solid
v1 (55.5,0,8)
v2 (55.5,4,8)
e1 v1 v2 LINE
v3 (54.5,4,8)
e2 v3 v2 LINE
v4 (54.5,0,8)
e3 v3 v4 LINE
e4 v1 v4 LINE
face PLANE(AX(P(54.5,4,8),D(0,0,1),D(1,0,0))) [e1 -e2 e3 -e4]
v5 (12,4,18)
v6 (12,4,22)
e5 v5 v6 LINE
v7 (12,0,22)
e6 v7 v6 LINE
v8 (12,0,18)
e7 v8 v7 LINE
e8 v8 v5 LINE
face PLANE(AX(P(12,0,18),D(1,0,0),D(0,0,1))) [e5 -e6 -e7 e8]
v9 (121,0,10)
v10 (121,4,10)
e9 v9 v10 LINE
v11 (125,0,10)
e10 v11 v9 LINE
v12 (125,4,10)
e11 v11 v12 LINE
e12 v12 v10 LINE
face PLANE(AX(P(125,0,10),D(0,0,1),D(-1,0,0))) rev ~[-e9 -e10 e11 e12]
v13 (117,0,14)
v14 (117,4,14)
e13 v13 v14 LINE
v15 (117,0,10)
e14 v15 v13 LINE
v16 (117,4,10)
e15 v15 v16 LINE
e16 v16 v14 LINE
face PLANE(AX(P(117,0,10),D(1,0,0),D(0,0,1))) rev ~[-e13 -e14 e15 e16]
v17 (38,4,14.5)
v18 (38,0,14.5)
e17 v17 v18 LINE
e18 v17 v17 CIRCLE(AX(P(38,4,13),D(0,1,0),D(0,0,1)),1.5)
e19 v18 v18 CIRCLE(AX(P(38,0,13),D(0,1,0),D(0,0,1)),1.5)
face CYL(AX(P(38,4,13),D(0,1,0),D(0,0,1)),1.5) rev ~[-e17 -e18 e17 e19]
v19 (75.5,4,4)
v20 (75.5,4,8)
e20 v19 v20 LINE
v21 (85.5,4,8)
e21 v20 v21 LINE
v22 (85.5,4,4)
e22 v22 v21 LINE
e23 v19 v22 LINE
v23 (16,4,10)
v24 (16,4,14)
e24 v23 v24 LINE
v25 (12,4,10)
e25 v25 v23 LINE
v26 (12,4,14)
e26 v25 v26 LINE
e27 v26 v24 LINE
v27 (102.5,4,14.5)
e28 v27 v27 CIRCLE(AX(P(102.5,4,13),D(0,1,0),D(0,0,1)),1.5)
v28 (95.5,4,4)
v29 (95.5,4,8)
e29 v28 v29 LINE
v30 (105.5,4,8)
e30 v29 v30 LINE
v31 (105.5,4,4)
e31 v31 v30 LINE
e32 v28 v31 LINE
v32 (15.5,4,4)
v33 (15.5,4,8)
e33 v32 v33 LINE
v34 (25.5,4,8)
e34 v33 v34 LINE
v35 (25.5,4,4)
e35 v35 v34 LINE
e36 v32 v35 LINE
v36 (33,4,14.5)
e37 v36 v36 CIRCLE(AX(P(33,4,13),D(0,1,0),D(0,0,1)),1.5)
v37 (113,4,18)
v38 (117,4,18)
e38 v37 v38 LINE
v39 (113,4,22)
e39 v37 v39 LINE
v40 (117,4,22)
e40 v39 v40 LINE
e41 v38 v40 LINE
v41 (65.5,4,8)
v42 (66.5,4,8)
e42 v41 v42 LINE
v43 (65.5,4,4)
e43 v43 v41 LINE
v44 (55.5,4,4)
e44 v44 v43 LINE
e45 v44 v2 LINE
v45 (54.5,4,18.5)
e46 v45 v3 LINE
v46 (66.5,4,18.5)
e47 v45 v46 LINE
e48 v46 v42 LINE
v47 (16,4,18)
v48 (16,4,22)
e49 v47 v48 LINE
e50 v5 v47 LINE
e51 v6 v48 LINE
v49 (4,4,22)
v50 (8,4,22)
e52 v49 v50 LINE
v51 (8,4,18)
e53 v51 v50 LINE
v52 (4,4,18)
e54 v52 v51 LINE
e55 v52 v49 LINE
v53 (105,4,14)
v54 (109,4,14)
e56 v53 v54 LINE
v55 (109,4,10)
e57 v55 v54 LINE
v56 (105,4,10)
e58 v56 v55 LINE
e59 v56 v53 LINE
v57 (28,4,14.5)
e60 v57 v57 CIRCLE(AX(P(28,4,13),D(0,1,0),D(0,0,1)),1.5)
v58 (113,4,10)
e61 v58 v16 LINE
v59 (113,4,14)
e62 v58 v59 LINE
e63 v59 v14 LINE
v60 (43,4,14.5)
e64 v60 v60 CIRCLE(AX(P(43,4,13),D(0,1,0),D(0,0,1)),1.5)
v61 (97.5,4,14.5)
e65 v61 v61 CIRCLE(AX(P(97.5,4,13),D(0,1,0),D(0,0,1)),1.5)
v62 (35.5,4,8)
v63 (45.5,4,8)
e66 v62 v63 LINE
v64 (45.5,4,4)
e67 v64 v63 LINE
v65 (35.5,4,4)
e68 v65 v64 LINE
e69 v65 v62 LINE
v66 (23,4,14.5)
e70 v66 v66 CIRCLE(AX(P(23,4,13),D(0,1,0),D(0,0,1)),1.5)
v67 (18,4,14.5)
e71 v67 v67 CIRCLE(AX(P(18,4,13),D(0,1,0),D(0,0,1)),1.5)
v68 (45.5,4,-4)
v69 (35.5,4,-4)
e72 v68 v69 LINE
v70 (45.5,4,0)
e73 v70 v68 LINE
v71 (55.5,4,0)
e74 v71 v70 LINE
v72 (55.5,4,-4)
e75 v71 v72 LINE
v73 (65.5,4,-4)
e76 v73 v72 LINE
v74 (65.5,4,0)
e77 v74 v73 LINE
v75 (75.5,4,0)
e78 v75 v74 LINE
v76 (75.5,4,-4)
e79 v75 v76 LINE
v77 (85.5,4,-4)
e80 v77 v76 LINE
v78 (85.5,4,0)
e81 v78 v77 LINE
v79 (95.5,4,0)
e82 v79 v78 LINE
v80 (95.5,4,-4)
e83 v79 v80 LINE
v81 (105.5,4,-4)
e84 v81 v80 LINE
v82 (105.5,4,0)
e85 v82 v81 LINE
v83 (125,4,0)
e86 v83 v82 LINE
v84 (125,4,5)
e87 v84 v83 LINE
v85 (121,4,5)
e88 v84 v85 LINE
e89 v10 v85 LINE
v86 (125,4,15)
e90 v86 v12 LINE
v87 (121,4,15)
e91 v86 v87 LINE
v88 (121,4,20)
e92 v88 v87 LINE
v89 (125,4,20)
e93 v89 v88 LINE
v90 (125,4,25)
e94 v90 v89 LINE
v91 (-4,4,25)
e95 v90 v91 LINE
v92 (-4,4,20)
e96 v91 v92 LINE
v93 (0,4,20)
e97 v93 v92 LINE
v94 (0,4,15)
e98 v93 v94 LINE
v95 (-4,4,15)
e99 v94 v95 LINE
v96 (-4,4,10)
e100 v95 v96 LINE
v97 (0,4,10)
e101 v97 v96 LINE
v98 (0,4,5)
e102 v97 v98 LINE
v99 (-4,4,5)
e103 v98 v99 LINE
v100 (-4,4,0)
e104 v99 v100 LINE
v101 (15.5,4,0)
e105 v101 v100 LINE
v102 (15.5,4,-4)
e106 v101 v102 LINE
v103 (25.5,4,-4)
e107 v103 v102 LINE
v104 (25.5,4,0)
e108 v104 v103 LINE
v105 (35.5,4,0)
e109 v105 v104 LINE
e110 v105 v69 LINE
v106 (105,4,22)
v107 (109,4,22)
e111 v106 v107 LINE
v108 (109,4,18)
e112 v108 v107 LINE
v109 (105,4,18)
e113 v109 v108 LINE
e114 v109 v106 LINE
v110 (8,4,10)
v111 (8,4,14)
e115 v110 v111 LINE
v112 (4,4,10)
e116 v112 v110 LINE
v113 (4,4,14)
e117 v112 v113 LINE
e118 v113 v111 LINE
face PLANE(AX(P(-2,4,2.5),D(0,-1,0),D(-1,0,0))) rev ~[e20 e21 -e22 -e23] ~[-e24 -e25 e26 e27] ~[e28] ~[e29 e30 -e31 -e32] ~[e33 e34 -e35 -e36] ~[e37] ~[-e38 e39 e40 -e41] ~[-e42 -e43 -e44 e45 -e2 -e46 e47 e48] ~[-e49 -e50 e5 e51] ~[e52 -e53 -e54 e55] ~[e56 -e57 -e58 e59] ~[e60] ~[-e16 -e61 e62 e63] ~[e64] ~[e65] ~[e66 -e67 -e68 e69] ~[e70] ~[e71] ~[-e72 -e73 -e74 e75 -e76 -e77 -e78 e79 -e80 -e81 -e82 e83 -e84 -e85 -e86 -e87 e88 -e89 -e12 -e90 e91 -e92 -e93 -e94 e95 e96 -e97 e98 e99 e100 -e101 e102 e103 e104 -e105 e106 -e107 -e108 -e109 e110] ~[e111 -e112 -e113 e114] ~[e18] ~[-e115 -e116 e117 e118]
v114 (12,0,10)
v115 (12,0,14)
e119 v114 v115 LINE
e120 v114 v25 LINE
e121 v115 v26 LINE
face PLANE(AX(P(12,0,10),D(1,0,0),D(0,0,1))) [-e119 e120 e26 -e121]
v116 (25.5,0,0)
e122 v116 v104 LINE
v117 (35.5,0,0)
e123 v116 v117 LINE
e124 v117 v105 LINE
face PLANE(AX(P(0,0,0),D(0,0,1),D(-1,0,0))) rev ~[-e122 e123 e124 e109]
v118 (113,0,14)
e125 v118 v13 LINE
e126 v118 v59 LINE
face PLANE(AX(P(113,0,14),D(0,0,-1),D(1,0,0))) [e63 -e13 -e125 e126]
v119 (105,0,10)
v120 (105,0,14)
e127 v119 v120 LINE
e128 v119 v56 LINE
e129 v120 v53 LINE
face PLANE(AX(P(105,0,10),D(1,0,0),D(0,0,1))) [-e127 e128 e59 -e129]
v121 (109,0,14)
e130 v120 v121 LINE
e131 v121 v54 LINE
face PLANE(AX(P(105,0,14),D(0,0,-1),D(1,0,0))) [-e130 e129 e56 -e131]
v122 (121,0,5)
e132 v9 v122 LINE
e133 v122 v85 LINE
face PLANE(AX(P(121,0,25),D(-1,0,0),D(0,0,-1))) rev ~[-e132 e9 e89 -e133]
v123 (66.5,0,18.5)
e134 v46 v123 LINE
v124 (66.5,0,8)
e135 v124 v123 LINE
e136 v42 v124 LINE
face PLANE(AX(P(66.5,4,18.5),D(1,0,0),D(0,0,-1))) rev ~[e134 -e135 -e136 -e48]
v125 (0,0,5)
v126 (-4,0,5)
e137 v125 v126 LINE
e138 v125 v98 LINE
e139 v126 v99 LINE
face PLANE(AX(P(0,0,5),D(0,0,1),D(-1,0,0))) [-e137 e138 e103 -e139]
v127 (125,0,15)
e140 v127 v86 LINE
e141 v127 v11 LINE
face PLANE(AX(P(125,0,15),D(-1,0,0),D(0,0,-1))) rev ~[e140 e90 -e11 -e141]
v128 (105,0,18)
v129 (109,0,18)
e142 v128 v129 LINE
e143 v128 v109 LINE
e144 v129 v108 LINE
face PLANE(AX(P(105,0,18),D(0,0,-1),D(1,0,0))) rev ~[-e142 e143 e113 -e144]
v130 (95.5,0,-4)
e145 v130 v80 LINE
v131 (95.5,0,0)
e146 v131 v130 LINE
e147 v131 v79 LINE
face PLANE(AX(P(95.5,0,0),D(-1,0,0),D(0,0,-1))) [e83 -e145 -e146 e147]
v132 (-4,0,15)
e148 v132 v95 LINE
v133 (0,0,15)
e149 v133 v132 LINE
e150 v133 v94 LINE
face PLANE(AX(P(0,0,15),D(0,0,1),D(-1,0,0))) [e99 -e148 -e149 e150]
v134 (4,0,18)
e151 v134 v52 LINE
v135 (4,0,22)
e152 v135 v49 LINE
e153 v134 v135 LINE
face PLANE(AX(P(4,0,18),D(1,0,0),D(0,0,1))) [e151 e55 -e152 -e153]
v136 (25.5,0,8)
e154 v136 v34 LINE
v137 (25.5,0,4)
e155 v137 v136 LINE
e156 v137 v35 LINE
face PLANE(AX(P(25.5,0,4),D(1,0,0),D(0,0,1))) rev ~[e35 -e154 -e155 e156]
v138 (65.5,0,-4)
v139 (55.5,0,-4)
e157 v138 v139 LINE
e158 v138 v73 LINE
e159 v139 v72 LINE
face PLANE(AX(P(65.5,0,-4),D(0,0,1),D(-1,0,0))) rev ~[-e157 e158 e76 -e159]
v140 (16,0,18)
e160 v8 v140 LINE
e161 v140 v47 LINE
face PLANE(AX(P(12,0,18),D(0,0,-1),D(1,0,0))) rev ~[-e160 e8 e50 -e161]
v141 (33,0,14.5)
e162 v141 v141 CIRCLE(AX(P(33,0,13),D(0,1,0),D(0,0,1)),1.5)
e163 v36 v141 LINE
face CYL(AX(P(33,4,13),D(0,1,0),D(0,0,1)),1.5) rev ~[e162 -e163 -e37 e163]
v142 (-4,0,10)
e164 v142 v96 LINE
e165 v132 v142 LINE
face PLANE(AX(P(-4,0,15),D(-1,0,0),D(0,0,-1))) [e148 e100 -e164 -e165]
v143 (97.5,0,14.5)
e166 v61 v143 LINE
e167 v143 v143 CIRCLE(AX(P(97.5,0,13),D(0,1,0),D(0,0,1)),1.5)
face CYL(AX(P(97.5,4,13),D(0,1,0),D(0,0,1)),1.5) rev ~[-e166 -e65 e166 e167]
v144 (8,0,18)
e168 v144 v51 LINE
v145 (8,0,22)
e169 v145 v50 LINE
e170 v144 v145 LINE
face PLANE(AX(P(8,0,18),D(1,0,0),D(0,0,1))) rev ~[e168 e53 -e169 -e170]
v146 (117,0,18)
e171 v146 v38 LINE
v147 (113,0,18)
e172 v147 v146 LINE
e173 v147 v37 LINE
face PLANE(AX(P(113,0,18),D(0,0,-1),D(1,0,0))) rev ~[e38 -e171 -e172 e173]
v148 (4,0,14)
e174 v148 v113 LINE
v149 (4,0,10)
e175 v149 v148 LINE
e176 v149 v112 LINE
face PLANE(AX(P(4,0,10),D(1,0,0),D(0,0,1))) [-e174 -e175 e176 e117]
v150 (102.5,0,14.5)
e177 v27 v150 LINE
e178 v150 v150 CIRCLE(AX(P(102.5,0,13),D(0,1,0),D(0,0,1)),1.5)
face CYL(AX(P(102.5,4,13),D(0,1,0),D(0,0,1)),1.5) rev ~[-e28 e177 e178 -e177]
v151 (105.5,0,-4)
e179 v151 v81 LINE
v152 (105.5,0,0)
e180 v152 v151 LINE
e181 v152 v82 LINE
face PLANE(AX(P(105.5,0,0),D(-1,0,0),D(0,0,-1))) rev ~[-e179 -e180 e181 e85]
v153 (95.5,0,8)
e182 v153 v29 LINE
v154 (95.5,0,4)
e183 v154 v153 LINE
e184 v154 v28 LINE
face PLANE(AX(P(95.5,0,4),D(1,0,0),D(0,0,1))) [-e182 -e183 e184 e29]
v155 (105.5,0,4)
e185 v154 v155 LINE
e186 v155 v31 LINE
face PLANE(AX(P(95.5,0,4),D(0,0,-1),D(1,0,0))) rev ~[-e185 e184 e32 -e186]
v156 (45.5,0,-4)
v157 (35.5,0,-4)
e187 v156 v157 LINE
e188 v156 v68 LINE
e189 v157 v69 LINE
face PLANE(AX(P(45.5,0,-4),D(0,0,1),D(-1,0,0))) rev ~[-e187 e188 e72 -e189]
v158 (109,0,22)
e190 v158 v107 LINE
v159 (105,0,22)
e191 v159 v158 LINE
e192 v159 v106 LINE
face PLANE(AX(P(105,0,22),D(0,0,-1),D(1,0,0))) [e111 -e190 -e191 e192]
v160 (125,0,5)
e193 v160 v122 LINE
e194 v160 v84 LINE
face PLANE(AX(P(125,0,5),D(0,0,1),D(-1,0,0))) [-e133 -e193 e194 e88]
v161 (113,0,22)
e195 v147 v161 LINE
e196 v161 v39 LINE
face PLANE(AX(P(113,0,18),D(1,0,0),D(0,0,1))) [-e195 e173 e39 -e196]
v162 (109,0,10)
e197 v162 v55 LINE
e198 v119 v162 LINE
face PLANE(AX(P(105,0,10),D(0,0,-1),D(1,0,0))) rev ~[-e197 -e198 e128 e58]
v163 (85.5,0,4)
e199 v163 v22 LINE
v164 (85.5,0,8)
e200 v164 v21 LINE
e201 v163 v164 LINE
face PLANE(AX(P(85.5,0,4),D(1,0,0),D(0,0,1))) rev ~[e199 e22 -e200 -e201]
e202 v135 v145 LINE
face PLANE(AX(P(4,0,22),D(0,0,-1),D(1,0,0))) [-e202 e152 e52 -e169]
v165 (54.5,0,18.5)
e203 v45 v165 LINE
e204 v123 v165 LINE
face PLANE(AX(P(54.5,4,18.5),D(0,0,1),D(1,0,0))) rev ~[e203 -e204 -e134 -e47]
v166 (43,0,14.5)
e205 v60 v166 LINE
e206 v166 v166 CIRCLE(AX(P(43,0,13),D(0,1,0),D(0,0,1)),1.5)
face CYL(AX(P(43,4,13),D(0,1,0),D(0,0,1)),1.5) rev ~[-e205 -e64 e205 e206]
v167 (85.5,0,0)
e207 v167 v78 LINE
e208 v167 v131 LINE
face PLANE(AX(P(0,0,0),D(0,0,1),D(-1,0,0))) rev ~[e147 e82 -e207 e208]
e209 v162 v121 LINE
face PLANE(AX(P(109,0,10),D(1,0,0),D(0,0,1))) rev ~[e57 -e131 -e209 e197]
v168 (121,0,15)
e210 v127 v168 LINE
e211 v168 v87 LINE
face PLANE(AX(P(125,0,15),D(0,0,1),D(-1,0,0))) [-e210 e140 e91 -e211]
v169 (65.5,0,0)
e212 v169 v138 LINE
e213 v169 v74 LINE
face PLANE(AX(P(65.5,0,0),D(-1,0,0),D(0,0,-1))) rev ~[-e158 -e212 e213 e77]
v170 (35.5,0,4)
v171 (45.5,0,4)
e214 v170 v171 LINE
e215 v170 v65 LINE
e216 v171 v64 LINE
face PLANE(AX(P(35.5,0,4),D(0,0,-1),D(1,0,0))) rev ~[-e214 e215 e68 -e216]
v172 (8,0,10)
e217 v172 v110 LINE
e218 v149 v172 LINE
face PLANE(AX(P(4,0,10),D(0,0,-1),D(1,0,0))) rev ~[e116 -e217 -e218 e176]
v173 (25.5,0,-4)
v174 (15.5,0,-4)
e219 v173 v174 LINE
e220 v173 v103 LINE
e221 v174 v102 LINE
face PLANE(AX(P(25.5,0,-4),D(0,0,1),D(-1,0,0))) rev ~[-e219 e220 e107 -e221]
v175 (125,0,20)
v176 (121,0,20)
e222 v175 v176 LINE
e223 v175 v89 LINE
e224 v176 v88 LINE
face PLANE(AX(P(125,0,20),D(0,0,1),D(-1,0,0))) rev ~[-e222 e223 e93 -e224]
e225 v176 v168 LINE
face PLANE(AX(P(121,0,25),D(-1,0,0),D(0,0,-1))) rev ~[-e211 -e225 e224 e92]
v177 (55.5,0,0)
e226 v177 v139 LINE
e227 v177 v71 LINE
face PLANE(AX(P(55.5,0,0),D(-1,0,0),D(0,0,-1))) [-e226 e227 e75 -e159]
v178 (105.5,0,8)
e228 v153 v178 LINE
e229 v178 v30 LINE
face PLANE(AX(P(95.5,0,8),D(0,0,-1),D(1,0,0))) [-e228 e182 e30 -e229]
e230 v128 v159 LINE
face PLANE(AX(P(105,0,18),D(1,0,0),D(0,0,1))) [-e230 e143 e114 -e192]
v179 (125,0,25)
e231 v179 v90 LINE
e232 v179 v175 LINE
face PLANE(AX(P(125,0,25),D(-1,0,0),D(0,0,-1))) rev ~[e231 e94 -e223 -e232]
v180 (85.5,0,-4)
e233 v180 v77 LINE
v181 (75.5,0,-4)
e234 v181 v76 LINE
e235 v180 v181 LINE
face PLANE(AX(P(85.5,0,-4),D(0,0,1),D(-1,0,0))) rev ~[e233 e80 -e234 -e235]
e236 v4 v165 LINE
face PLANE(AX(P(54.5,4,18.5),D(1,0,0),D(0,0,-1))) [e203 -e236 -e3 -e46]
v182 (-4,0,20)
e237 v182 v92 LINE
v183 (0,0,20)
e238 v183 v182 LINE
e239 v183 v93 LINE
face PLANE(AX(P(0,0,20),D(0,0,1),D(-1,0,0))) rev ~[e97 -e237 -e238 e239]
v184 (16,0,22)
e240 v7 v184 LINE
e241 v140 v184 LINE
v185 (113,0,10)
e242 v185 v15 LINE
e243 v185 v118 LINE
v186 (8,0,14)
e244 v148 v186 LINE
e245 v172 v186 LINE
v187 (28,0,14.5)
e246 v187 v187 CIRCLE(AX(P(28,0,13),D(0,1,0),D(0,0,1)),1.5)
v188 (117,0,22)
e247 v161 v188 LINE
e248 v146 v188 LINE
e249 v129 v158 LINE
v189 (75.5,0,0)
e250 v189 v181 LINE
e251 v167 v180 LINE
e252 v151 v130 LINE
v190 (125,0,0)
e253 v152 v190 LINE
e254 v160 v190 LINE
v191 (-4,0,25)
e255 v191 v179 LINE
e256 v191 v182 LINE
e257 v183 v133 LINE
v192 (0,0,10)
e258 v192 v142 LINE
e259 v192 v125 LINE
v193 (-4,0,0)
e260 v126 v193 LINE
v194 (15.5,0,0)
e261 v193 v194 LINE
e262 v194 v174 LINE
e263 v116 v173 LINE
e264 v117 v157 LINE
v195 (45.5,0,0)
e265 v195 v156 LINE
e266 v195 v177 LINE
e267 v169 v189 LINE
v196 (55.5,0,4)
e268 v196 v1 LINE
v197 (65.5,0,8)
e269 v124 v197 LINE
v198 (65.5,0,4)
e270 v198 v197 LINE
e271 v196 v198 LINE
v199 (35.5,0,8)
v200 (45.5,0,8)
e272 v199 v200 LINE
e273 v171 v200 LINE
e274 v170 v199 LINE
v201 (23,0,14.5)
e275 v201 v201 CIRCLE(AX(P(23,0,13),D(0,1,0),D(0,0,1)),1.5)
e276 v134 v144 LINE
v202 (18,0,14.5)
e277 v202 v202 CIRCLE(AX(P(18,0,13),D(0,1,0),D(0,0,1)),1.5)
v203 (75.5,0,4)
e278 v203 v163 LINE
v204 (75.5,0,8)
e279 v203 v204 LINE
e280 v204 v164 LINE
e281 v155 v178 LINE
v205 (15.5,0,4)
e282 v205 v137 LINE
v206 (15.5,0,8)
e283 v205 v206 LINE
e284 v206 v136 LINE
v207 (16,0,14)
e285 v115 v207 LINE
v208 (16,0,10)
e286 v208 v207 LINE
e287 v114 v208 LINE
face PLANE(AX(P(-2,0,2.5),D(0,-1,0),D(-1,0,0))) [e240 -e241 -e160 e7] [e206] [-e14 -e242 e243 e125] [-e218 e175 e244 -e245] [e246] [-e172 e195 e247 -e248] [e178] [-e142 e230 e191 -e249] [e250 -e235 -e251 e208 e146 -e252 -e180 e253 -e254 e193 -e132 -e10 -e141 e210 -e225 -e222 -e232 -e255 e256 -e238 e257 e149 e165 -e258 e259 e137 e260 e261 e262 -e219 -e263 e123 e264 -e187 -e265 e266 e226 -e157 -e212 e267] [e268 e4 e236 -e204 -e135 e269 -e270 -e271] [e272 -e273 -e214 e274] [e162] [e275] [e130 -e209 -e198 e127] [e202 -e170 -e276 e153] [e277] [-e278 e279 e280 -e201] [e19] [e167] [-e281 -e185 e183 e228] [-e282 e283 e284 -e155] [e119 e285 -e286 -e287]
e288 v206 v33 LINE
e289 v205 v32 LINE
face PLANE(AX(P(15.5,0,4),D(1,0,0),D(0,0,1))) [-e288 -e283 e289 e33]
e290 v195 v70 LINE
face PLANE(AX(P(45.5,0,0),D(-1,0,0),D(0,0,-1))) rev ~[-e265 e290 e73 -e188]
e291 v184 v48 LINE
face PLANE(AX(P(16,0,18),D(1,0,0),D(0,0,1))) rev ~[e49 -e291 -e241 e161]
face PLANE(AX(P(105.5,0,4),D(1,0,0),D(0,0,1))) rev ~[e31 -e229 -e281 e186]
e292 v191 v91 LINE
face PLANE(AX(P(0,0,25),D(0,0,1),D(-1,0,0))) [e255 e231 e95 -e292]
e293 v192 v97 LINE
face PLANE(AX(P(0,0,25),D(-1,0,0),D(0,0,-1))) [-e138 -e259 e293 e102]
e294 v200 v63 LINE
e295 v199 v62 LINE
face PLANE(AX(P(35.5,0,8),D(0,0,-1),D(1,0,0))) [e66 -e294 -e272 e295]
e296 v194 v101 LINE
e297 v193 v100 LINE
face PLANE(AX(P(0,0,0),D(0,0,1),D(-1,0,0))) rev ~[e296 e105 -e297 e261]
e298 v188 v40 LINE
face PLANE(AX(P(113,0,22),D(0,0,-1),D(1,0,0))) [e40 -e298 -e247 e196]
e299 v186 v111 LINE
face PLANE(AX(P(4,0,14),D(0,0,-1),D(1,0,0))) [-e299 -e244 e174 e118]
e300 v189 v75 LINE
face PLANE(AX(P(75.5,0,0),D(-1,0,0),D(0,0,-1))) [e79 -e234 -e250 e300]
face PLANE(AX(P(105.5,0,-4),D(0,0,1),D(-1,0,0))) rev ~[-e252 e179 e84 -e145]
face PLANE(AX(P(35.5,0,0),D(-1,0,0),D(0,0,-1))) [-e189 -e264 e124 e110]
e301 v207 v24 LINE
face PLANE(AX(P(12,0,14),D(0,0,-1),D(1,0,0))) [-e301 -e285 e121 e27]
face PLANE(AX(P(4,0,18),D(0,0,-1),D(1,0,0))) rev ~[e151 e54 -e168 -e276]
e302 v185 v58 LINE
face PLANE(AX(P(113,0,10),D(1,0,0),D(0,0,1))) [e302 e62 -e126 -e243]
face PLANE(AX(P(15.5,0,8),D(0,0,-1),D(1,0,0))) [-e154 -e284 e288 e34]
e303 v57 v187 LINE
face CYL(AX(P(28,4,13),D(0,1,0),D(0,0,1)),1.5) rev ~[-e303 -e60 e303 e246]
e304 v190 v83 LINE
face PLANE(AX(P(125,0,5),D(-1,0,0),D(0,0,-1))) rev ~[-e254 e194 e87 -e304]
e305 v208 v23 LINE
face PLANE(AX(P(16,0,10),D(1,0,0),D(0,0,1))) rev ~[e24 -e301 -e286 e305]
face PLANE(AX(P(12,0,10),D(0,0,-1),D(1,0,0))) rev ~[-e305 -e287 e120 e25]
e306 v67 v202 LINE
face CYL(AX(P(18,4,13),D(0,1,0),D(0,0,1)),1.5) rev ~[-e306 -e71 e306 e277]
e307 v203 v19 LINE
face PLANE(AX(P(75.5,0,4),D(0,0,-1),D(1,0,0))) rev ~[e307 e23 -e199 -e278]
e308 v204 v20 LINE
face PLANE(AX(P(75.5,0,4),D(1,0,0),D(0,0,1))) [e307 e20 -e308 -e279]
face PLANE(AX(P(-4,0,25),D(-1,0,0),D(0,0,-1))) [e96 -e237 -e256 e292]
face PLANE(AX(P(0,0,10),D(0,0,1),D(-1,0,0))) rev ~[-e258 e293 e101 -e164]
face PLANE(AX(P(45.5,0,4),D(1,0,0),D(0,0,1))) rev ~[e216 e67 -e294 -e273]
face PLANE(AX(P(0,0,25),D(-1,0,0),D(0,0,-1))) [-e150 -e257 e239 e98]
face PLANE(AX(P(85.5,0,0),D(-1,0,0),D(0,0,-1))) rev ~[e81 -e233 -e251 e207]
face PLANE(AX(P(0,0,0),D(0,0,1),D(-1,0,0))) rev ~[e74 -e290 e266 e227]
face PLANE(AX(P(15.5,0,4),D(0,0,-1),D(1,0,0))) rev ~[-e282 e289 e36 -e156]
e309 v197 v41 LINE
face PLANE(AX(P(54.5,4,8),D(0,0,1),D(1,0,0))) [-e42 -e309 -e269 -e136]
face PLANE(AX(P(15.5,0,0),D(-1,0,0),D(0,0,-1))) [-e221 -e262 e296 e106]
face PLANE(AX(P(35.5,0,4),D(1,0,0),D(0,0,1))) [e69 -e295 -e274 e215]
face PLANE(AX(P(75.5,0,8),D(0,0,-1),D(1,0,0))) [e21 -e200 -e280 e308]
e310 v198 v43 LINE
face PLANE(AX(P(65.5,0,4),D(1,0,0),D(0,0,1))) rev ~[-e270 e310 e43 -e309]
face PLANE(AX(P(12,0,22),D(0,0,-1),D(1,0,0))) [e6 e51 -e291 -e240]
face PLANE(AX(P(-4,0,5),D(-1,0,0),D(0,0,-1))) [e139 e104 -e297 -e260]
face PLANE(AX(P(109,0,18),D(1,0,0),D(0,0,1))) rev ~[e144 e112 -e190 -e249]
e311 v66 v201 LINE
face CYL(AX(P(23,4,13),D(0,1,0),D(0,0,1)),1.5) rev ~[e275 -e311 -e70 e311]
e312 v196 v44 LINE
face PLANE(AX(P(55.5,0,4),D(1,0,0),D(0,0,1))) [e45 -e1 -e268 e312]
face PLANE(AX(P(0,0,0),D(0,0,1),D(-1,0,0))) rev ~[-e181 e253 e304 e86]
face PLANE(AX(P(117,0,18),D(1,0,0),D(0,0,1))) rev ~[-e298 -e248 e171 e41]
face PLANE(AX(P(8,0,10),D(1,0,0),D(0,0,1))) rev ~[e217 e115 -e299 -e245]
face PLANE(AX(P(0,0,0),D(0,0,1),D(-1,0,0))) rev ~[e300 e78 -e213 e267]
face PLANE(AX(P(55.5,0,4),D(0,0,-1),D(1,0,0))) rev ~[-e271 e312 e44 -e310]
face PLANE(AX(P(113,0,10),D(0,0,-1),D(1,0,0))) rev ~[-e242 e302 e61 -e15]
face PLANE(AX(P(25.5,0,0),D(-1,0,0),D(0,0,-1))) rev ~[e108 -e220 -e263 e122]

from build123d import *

# Parameters (mm, degrees)
SKETCH1_W           = 121
SKETCH1_H           = 25
BOSS_EXTRUDE1_DEPTH = 4
SKETCH2_W           = 4
SKETCH2_H           = 5
BOSS_EXTRUDE2_DEPTH = 4
LPATTERN1_COUNT     = 3
LPATTERN1_PITCH     = 10
SKETCH3_W           = 10
SKETCH3_H           = 4
BOSS_EXTRUDE3_DEPTH = 4
LPATTERN2_COUNT     = 3
LPATTERN2_PITCH     = 20
LPATTERN2_COL_COUNT = 3
LPATTERN2_COL_PITCH = 20
SKETCH4_W           = 10
SKETCH4_H           = 4
CUT_EXTRUDE1_DEPTH  = 128.538229563
SKETCH5_R           = 1.5
SKETCH5_W           = 12
SKETCH5_H           = 10.5
CUT_EXTRUDE2_DEPTH  = 128.538229563
SKETCH7_W           = 4
SKETCH7_H           = 4
CUT_EXTRUDE4_DEPTH  = 128.538229563


with BuildPart() as part:
    # Sketch1 → Boss-Extrude1 (new body)
    with BuildSketch(Plane(origin=(0, 0, 0), x_dir=(1, 0, 0), z_dir=(0, 1, 0))):
        with Locations((60.5, -12.5)):
            Rectangle(SKETCH1_W, SKETCH1_H)
    extrude(amount=BOSS_EXTRUDE1_DEPTH)

    # Sketch2 → Boss-Extrude2 (add, through all)
    with BuildSketch(Plane(origin=(0, 0, 0), x_dir=(-1, 0, 0), z_dir=(0, -1, 0))):
        with Locations((2, -22.5)):
            Rectangle(SKETCH2_W, SKETCH2_H)
        with Locations((-123, -22.5)):
            Rectangle(SKETCH2_W, SKETCH2_H)
    boss_extrude2 = extrude(amount=-BOSS_EXTRUDE2_DEPTH)

    # LPattern1: Boss-Extrude2 ×3
    with Locations(*[(0, 0, -i * LPATTERN1_PITCH) for i in range(1, LPATTERN1_COUNT)]):
        add(boss_extrude2)

    # Sketch3 → Boss-Extrude3 (add, through all)
    with BuildSketch(Plane(origin=(0, 0, 0), x_dir=(-1, 0, 0), z_dir=(0, -1, 0))):
        with Locations((-60.5, 2)):
            Rectangle(SKETCH3_W, SKETCH3_H)
    boss_extrude3 = extrude(amount=-BOSS_EXTRUDE3_DEPTH)

    # LPattern2: Boss-Extrude3 ×3
    with Locations(*[(i * LPATTERN2_PITCH, 0, 0) for i in range(1, LPATTERN2_COUNT)]):
        add(boss_extrude3)

    # LPattern2 col: Boss-Extrude3 ×3
    with Locations(*[(-i * LPATTERN2_COL_PITCH, 0, 0) for i in range(1, LPATTERN2_COL_COUNT)]):
        add(boss_extrude3)

    # Sketch4 → Cut-Extrude1 (cut, through all)
    with BuildSketch(Plane.XZ):
        with Locations((20.5, 6)):
            Rectangle(SKETCH4_W, SKETCH4_H)
        with Locations((40.5, 6)):
            Rectangle(SKETCH4_W, SKETCH4_H)
        with Locations((60.5, 6)):
            Rectangle(SKETCH4_W, SKETCH4_H)
        with Locations((80.5, 6)):
            Rectangle(SKETCH4_W, SKETCH4_H)
        with Locations((100.5, 6)):
            Rectangle(SKETCH4_W, SKETCH4_H)
    extrude(amount=-CUT_EXTRUDE1_DEPTH, mode=Mode.SUBTRACT)

    # Sketch5 → Cut-Extrude2 (cut, through all)
    with BuildSketch(Plane(origin=(0, 4, 0), x_dir=(1, 0, 0), z_dir=(0, 1, 0))):
        with Locations(Location((97.5, -13, 0), (0, 0, 270))):
            Circle(SKETCH5_R)
        with Locations(Location((102.5, -13, 0), (0, 0, 270))):
            Circle(SKETCH5_R)
        with Locations(Location((43, -13, 0), (0, 0, 270))):
            Circle(SKETCH5_R)
        with Locations(Location((38, -13, 0), (0, 0, 270))):
            Circle(SKETCH5_R)
        with Locations(Location((33, -13, 0), (0, 0, 270))):
            Circle(SKETCH5_R)
        with Locations(Location((28, -13, 0), (0, 0, 270))):
            Circle(SKETCH5_R)
        with Locations(Location((23, -13, 0), (0, 0, 270))):
            Circle(SKETCH5_R)
        with Locations(Location((18, -13, 0), (0, 0, 270))):
            Circle(SKETCH5_R)
        with Locations((60.5, -13.25)):
            Rectangle(SKETCH5_W, SKETCH5_H)
    extrude(amount=-CUT_EXTRUDE2_DEPTH, mode=Mode.SUBTRACT)

    # Sketch7 → Cut-Extrude4 (cut, through all)
    with BuildSketch(Plane.XZ):
        with Locations((6, 20)):
            Rectangle(SKETCH7_W, SKETCH7_H)
        with Locations((14, 20)):
            Rectangle(SKETCH7_W, SKETCH7_H)
        with Locations((6, 12)):
            Rectangle(SKETCH7_W, SKETCH7_H)
        with Locations((14, 12)):
            Rectangle(SKETCH7_W, SKETCH7_H)
        with Locations((107, 20)):
            Rectangle(SKETCH7_W, SKETCH7_H)
        with Locations((107, 12)):
            Rectangle(SKETCH7_W, SKETCH7_H)
        with Locations((115, 20)):
            Rectangle(SKETCH7_W, SKETCH7_H)
        with Locations((115, 12)):
            Rectangle(SKETCH7_W, SKETCH7_H)
    extrude(amount=-CUT_EXTRUDE4_DEPTH, mode=Mode.SUBTRACT)


solid = part.part
